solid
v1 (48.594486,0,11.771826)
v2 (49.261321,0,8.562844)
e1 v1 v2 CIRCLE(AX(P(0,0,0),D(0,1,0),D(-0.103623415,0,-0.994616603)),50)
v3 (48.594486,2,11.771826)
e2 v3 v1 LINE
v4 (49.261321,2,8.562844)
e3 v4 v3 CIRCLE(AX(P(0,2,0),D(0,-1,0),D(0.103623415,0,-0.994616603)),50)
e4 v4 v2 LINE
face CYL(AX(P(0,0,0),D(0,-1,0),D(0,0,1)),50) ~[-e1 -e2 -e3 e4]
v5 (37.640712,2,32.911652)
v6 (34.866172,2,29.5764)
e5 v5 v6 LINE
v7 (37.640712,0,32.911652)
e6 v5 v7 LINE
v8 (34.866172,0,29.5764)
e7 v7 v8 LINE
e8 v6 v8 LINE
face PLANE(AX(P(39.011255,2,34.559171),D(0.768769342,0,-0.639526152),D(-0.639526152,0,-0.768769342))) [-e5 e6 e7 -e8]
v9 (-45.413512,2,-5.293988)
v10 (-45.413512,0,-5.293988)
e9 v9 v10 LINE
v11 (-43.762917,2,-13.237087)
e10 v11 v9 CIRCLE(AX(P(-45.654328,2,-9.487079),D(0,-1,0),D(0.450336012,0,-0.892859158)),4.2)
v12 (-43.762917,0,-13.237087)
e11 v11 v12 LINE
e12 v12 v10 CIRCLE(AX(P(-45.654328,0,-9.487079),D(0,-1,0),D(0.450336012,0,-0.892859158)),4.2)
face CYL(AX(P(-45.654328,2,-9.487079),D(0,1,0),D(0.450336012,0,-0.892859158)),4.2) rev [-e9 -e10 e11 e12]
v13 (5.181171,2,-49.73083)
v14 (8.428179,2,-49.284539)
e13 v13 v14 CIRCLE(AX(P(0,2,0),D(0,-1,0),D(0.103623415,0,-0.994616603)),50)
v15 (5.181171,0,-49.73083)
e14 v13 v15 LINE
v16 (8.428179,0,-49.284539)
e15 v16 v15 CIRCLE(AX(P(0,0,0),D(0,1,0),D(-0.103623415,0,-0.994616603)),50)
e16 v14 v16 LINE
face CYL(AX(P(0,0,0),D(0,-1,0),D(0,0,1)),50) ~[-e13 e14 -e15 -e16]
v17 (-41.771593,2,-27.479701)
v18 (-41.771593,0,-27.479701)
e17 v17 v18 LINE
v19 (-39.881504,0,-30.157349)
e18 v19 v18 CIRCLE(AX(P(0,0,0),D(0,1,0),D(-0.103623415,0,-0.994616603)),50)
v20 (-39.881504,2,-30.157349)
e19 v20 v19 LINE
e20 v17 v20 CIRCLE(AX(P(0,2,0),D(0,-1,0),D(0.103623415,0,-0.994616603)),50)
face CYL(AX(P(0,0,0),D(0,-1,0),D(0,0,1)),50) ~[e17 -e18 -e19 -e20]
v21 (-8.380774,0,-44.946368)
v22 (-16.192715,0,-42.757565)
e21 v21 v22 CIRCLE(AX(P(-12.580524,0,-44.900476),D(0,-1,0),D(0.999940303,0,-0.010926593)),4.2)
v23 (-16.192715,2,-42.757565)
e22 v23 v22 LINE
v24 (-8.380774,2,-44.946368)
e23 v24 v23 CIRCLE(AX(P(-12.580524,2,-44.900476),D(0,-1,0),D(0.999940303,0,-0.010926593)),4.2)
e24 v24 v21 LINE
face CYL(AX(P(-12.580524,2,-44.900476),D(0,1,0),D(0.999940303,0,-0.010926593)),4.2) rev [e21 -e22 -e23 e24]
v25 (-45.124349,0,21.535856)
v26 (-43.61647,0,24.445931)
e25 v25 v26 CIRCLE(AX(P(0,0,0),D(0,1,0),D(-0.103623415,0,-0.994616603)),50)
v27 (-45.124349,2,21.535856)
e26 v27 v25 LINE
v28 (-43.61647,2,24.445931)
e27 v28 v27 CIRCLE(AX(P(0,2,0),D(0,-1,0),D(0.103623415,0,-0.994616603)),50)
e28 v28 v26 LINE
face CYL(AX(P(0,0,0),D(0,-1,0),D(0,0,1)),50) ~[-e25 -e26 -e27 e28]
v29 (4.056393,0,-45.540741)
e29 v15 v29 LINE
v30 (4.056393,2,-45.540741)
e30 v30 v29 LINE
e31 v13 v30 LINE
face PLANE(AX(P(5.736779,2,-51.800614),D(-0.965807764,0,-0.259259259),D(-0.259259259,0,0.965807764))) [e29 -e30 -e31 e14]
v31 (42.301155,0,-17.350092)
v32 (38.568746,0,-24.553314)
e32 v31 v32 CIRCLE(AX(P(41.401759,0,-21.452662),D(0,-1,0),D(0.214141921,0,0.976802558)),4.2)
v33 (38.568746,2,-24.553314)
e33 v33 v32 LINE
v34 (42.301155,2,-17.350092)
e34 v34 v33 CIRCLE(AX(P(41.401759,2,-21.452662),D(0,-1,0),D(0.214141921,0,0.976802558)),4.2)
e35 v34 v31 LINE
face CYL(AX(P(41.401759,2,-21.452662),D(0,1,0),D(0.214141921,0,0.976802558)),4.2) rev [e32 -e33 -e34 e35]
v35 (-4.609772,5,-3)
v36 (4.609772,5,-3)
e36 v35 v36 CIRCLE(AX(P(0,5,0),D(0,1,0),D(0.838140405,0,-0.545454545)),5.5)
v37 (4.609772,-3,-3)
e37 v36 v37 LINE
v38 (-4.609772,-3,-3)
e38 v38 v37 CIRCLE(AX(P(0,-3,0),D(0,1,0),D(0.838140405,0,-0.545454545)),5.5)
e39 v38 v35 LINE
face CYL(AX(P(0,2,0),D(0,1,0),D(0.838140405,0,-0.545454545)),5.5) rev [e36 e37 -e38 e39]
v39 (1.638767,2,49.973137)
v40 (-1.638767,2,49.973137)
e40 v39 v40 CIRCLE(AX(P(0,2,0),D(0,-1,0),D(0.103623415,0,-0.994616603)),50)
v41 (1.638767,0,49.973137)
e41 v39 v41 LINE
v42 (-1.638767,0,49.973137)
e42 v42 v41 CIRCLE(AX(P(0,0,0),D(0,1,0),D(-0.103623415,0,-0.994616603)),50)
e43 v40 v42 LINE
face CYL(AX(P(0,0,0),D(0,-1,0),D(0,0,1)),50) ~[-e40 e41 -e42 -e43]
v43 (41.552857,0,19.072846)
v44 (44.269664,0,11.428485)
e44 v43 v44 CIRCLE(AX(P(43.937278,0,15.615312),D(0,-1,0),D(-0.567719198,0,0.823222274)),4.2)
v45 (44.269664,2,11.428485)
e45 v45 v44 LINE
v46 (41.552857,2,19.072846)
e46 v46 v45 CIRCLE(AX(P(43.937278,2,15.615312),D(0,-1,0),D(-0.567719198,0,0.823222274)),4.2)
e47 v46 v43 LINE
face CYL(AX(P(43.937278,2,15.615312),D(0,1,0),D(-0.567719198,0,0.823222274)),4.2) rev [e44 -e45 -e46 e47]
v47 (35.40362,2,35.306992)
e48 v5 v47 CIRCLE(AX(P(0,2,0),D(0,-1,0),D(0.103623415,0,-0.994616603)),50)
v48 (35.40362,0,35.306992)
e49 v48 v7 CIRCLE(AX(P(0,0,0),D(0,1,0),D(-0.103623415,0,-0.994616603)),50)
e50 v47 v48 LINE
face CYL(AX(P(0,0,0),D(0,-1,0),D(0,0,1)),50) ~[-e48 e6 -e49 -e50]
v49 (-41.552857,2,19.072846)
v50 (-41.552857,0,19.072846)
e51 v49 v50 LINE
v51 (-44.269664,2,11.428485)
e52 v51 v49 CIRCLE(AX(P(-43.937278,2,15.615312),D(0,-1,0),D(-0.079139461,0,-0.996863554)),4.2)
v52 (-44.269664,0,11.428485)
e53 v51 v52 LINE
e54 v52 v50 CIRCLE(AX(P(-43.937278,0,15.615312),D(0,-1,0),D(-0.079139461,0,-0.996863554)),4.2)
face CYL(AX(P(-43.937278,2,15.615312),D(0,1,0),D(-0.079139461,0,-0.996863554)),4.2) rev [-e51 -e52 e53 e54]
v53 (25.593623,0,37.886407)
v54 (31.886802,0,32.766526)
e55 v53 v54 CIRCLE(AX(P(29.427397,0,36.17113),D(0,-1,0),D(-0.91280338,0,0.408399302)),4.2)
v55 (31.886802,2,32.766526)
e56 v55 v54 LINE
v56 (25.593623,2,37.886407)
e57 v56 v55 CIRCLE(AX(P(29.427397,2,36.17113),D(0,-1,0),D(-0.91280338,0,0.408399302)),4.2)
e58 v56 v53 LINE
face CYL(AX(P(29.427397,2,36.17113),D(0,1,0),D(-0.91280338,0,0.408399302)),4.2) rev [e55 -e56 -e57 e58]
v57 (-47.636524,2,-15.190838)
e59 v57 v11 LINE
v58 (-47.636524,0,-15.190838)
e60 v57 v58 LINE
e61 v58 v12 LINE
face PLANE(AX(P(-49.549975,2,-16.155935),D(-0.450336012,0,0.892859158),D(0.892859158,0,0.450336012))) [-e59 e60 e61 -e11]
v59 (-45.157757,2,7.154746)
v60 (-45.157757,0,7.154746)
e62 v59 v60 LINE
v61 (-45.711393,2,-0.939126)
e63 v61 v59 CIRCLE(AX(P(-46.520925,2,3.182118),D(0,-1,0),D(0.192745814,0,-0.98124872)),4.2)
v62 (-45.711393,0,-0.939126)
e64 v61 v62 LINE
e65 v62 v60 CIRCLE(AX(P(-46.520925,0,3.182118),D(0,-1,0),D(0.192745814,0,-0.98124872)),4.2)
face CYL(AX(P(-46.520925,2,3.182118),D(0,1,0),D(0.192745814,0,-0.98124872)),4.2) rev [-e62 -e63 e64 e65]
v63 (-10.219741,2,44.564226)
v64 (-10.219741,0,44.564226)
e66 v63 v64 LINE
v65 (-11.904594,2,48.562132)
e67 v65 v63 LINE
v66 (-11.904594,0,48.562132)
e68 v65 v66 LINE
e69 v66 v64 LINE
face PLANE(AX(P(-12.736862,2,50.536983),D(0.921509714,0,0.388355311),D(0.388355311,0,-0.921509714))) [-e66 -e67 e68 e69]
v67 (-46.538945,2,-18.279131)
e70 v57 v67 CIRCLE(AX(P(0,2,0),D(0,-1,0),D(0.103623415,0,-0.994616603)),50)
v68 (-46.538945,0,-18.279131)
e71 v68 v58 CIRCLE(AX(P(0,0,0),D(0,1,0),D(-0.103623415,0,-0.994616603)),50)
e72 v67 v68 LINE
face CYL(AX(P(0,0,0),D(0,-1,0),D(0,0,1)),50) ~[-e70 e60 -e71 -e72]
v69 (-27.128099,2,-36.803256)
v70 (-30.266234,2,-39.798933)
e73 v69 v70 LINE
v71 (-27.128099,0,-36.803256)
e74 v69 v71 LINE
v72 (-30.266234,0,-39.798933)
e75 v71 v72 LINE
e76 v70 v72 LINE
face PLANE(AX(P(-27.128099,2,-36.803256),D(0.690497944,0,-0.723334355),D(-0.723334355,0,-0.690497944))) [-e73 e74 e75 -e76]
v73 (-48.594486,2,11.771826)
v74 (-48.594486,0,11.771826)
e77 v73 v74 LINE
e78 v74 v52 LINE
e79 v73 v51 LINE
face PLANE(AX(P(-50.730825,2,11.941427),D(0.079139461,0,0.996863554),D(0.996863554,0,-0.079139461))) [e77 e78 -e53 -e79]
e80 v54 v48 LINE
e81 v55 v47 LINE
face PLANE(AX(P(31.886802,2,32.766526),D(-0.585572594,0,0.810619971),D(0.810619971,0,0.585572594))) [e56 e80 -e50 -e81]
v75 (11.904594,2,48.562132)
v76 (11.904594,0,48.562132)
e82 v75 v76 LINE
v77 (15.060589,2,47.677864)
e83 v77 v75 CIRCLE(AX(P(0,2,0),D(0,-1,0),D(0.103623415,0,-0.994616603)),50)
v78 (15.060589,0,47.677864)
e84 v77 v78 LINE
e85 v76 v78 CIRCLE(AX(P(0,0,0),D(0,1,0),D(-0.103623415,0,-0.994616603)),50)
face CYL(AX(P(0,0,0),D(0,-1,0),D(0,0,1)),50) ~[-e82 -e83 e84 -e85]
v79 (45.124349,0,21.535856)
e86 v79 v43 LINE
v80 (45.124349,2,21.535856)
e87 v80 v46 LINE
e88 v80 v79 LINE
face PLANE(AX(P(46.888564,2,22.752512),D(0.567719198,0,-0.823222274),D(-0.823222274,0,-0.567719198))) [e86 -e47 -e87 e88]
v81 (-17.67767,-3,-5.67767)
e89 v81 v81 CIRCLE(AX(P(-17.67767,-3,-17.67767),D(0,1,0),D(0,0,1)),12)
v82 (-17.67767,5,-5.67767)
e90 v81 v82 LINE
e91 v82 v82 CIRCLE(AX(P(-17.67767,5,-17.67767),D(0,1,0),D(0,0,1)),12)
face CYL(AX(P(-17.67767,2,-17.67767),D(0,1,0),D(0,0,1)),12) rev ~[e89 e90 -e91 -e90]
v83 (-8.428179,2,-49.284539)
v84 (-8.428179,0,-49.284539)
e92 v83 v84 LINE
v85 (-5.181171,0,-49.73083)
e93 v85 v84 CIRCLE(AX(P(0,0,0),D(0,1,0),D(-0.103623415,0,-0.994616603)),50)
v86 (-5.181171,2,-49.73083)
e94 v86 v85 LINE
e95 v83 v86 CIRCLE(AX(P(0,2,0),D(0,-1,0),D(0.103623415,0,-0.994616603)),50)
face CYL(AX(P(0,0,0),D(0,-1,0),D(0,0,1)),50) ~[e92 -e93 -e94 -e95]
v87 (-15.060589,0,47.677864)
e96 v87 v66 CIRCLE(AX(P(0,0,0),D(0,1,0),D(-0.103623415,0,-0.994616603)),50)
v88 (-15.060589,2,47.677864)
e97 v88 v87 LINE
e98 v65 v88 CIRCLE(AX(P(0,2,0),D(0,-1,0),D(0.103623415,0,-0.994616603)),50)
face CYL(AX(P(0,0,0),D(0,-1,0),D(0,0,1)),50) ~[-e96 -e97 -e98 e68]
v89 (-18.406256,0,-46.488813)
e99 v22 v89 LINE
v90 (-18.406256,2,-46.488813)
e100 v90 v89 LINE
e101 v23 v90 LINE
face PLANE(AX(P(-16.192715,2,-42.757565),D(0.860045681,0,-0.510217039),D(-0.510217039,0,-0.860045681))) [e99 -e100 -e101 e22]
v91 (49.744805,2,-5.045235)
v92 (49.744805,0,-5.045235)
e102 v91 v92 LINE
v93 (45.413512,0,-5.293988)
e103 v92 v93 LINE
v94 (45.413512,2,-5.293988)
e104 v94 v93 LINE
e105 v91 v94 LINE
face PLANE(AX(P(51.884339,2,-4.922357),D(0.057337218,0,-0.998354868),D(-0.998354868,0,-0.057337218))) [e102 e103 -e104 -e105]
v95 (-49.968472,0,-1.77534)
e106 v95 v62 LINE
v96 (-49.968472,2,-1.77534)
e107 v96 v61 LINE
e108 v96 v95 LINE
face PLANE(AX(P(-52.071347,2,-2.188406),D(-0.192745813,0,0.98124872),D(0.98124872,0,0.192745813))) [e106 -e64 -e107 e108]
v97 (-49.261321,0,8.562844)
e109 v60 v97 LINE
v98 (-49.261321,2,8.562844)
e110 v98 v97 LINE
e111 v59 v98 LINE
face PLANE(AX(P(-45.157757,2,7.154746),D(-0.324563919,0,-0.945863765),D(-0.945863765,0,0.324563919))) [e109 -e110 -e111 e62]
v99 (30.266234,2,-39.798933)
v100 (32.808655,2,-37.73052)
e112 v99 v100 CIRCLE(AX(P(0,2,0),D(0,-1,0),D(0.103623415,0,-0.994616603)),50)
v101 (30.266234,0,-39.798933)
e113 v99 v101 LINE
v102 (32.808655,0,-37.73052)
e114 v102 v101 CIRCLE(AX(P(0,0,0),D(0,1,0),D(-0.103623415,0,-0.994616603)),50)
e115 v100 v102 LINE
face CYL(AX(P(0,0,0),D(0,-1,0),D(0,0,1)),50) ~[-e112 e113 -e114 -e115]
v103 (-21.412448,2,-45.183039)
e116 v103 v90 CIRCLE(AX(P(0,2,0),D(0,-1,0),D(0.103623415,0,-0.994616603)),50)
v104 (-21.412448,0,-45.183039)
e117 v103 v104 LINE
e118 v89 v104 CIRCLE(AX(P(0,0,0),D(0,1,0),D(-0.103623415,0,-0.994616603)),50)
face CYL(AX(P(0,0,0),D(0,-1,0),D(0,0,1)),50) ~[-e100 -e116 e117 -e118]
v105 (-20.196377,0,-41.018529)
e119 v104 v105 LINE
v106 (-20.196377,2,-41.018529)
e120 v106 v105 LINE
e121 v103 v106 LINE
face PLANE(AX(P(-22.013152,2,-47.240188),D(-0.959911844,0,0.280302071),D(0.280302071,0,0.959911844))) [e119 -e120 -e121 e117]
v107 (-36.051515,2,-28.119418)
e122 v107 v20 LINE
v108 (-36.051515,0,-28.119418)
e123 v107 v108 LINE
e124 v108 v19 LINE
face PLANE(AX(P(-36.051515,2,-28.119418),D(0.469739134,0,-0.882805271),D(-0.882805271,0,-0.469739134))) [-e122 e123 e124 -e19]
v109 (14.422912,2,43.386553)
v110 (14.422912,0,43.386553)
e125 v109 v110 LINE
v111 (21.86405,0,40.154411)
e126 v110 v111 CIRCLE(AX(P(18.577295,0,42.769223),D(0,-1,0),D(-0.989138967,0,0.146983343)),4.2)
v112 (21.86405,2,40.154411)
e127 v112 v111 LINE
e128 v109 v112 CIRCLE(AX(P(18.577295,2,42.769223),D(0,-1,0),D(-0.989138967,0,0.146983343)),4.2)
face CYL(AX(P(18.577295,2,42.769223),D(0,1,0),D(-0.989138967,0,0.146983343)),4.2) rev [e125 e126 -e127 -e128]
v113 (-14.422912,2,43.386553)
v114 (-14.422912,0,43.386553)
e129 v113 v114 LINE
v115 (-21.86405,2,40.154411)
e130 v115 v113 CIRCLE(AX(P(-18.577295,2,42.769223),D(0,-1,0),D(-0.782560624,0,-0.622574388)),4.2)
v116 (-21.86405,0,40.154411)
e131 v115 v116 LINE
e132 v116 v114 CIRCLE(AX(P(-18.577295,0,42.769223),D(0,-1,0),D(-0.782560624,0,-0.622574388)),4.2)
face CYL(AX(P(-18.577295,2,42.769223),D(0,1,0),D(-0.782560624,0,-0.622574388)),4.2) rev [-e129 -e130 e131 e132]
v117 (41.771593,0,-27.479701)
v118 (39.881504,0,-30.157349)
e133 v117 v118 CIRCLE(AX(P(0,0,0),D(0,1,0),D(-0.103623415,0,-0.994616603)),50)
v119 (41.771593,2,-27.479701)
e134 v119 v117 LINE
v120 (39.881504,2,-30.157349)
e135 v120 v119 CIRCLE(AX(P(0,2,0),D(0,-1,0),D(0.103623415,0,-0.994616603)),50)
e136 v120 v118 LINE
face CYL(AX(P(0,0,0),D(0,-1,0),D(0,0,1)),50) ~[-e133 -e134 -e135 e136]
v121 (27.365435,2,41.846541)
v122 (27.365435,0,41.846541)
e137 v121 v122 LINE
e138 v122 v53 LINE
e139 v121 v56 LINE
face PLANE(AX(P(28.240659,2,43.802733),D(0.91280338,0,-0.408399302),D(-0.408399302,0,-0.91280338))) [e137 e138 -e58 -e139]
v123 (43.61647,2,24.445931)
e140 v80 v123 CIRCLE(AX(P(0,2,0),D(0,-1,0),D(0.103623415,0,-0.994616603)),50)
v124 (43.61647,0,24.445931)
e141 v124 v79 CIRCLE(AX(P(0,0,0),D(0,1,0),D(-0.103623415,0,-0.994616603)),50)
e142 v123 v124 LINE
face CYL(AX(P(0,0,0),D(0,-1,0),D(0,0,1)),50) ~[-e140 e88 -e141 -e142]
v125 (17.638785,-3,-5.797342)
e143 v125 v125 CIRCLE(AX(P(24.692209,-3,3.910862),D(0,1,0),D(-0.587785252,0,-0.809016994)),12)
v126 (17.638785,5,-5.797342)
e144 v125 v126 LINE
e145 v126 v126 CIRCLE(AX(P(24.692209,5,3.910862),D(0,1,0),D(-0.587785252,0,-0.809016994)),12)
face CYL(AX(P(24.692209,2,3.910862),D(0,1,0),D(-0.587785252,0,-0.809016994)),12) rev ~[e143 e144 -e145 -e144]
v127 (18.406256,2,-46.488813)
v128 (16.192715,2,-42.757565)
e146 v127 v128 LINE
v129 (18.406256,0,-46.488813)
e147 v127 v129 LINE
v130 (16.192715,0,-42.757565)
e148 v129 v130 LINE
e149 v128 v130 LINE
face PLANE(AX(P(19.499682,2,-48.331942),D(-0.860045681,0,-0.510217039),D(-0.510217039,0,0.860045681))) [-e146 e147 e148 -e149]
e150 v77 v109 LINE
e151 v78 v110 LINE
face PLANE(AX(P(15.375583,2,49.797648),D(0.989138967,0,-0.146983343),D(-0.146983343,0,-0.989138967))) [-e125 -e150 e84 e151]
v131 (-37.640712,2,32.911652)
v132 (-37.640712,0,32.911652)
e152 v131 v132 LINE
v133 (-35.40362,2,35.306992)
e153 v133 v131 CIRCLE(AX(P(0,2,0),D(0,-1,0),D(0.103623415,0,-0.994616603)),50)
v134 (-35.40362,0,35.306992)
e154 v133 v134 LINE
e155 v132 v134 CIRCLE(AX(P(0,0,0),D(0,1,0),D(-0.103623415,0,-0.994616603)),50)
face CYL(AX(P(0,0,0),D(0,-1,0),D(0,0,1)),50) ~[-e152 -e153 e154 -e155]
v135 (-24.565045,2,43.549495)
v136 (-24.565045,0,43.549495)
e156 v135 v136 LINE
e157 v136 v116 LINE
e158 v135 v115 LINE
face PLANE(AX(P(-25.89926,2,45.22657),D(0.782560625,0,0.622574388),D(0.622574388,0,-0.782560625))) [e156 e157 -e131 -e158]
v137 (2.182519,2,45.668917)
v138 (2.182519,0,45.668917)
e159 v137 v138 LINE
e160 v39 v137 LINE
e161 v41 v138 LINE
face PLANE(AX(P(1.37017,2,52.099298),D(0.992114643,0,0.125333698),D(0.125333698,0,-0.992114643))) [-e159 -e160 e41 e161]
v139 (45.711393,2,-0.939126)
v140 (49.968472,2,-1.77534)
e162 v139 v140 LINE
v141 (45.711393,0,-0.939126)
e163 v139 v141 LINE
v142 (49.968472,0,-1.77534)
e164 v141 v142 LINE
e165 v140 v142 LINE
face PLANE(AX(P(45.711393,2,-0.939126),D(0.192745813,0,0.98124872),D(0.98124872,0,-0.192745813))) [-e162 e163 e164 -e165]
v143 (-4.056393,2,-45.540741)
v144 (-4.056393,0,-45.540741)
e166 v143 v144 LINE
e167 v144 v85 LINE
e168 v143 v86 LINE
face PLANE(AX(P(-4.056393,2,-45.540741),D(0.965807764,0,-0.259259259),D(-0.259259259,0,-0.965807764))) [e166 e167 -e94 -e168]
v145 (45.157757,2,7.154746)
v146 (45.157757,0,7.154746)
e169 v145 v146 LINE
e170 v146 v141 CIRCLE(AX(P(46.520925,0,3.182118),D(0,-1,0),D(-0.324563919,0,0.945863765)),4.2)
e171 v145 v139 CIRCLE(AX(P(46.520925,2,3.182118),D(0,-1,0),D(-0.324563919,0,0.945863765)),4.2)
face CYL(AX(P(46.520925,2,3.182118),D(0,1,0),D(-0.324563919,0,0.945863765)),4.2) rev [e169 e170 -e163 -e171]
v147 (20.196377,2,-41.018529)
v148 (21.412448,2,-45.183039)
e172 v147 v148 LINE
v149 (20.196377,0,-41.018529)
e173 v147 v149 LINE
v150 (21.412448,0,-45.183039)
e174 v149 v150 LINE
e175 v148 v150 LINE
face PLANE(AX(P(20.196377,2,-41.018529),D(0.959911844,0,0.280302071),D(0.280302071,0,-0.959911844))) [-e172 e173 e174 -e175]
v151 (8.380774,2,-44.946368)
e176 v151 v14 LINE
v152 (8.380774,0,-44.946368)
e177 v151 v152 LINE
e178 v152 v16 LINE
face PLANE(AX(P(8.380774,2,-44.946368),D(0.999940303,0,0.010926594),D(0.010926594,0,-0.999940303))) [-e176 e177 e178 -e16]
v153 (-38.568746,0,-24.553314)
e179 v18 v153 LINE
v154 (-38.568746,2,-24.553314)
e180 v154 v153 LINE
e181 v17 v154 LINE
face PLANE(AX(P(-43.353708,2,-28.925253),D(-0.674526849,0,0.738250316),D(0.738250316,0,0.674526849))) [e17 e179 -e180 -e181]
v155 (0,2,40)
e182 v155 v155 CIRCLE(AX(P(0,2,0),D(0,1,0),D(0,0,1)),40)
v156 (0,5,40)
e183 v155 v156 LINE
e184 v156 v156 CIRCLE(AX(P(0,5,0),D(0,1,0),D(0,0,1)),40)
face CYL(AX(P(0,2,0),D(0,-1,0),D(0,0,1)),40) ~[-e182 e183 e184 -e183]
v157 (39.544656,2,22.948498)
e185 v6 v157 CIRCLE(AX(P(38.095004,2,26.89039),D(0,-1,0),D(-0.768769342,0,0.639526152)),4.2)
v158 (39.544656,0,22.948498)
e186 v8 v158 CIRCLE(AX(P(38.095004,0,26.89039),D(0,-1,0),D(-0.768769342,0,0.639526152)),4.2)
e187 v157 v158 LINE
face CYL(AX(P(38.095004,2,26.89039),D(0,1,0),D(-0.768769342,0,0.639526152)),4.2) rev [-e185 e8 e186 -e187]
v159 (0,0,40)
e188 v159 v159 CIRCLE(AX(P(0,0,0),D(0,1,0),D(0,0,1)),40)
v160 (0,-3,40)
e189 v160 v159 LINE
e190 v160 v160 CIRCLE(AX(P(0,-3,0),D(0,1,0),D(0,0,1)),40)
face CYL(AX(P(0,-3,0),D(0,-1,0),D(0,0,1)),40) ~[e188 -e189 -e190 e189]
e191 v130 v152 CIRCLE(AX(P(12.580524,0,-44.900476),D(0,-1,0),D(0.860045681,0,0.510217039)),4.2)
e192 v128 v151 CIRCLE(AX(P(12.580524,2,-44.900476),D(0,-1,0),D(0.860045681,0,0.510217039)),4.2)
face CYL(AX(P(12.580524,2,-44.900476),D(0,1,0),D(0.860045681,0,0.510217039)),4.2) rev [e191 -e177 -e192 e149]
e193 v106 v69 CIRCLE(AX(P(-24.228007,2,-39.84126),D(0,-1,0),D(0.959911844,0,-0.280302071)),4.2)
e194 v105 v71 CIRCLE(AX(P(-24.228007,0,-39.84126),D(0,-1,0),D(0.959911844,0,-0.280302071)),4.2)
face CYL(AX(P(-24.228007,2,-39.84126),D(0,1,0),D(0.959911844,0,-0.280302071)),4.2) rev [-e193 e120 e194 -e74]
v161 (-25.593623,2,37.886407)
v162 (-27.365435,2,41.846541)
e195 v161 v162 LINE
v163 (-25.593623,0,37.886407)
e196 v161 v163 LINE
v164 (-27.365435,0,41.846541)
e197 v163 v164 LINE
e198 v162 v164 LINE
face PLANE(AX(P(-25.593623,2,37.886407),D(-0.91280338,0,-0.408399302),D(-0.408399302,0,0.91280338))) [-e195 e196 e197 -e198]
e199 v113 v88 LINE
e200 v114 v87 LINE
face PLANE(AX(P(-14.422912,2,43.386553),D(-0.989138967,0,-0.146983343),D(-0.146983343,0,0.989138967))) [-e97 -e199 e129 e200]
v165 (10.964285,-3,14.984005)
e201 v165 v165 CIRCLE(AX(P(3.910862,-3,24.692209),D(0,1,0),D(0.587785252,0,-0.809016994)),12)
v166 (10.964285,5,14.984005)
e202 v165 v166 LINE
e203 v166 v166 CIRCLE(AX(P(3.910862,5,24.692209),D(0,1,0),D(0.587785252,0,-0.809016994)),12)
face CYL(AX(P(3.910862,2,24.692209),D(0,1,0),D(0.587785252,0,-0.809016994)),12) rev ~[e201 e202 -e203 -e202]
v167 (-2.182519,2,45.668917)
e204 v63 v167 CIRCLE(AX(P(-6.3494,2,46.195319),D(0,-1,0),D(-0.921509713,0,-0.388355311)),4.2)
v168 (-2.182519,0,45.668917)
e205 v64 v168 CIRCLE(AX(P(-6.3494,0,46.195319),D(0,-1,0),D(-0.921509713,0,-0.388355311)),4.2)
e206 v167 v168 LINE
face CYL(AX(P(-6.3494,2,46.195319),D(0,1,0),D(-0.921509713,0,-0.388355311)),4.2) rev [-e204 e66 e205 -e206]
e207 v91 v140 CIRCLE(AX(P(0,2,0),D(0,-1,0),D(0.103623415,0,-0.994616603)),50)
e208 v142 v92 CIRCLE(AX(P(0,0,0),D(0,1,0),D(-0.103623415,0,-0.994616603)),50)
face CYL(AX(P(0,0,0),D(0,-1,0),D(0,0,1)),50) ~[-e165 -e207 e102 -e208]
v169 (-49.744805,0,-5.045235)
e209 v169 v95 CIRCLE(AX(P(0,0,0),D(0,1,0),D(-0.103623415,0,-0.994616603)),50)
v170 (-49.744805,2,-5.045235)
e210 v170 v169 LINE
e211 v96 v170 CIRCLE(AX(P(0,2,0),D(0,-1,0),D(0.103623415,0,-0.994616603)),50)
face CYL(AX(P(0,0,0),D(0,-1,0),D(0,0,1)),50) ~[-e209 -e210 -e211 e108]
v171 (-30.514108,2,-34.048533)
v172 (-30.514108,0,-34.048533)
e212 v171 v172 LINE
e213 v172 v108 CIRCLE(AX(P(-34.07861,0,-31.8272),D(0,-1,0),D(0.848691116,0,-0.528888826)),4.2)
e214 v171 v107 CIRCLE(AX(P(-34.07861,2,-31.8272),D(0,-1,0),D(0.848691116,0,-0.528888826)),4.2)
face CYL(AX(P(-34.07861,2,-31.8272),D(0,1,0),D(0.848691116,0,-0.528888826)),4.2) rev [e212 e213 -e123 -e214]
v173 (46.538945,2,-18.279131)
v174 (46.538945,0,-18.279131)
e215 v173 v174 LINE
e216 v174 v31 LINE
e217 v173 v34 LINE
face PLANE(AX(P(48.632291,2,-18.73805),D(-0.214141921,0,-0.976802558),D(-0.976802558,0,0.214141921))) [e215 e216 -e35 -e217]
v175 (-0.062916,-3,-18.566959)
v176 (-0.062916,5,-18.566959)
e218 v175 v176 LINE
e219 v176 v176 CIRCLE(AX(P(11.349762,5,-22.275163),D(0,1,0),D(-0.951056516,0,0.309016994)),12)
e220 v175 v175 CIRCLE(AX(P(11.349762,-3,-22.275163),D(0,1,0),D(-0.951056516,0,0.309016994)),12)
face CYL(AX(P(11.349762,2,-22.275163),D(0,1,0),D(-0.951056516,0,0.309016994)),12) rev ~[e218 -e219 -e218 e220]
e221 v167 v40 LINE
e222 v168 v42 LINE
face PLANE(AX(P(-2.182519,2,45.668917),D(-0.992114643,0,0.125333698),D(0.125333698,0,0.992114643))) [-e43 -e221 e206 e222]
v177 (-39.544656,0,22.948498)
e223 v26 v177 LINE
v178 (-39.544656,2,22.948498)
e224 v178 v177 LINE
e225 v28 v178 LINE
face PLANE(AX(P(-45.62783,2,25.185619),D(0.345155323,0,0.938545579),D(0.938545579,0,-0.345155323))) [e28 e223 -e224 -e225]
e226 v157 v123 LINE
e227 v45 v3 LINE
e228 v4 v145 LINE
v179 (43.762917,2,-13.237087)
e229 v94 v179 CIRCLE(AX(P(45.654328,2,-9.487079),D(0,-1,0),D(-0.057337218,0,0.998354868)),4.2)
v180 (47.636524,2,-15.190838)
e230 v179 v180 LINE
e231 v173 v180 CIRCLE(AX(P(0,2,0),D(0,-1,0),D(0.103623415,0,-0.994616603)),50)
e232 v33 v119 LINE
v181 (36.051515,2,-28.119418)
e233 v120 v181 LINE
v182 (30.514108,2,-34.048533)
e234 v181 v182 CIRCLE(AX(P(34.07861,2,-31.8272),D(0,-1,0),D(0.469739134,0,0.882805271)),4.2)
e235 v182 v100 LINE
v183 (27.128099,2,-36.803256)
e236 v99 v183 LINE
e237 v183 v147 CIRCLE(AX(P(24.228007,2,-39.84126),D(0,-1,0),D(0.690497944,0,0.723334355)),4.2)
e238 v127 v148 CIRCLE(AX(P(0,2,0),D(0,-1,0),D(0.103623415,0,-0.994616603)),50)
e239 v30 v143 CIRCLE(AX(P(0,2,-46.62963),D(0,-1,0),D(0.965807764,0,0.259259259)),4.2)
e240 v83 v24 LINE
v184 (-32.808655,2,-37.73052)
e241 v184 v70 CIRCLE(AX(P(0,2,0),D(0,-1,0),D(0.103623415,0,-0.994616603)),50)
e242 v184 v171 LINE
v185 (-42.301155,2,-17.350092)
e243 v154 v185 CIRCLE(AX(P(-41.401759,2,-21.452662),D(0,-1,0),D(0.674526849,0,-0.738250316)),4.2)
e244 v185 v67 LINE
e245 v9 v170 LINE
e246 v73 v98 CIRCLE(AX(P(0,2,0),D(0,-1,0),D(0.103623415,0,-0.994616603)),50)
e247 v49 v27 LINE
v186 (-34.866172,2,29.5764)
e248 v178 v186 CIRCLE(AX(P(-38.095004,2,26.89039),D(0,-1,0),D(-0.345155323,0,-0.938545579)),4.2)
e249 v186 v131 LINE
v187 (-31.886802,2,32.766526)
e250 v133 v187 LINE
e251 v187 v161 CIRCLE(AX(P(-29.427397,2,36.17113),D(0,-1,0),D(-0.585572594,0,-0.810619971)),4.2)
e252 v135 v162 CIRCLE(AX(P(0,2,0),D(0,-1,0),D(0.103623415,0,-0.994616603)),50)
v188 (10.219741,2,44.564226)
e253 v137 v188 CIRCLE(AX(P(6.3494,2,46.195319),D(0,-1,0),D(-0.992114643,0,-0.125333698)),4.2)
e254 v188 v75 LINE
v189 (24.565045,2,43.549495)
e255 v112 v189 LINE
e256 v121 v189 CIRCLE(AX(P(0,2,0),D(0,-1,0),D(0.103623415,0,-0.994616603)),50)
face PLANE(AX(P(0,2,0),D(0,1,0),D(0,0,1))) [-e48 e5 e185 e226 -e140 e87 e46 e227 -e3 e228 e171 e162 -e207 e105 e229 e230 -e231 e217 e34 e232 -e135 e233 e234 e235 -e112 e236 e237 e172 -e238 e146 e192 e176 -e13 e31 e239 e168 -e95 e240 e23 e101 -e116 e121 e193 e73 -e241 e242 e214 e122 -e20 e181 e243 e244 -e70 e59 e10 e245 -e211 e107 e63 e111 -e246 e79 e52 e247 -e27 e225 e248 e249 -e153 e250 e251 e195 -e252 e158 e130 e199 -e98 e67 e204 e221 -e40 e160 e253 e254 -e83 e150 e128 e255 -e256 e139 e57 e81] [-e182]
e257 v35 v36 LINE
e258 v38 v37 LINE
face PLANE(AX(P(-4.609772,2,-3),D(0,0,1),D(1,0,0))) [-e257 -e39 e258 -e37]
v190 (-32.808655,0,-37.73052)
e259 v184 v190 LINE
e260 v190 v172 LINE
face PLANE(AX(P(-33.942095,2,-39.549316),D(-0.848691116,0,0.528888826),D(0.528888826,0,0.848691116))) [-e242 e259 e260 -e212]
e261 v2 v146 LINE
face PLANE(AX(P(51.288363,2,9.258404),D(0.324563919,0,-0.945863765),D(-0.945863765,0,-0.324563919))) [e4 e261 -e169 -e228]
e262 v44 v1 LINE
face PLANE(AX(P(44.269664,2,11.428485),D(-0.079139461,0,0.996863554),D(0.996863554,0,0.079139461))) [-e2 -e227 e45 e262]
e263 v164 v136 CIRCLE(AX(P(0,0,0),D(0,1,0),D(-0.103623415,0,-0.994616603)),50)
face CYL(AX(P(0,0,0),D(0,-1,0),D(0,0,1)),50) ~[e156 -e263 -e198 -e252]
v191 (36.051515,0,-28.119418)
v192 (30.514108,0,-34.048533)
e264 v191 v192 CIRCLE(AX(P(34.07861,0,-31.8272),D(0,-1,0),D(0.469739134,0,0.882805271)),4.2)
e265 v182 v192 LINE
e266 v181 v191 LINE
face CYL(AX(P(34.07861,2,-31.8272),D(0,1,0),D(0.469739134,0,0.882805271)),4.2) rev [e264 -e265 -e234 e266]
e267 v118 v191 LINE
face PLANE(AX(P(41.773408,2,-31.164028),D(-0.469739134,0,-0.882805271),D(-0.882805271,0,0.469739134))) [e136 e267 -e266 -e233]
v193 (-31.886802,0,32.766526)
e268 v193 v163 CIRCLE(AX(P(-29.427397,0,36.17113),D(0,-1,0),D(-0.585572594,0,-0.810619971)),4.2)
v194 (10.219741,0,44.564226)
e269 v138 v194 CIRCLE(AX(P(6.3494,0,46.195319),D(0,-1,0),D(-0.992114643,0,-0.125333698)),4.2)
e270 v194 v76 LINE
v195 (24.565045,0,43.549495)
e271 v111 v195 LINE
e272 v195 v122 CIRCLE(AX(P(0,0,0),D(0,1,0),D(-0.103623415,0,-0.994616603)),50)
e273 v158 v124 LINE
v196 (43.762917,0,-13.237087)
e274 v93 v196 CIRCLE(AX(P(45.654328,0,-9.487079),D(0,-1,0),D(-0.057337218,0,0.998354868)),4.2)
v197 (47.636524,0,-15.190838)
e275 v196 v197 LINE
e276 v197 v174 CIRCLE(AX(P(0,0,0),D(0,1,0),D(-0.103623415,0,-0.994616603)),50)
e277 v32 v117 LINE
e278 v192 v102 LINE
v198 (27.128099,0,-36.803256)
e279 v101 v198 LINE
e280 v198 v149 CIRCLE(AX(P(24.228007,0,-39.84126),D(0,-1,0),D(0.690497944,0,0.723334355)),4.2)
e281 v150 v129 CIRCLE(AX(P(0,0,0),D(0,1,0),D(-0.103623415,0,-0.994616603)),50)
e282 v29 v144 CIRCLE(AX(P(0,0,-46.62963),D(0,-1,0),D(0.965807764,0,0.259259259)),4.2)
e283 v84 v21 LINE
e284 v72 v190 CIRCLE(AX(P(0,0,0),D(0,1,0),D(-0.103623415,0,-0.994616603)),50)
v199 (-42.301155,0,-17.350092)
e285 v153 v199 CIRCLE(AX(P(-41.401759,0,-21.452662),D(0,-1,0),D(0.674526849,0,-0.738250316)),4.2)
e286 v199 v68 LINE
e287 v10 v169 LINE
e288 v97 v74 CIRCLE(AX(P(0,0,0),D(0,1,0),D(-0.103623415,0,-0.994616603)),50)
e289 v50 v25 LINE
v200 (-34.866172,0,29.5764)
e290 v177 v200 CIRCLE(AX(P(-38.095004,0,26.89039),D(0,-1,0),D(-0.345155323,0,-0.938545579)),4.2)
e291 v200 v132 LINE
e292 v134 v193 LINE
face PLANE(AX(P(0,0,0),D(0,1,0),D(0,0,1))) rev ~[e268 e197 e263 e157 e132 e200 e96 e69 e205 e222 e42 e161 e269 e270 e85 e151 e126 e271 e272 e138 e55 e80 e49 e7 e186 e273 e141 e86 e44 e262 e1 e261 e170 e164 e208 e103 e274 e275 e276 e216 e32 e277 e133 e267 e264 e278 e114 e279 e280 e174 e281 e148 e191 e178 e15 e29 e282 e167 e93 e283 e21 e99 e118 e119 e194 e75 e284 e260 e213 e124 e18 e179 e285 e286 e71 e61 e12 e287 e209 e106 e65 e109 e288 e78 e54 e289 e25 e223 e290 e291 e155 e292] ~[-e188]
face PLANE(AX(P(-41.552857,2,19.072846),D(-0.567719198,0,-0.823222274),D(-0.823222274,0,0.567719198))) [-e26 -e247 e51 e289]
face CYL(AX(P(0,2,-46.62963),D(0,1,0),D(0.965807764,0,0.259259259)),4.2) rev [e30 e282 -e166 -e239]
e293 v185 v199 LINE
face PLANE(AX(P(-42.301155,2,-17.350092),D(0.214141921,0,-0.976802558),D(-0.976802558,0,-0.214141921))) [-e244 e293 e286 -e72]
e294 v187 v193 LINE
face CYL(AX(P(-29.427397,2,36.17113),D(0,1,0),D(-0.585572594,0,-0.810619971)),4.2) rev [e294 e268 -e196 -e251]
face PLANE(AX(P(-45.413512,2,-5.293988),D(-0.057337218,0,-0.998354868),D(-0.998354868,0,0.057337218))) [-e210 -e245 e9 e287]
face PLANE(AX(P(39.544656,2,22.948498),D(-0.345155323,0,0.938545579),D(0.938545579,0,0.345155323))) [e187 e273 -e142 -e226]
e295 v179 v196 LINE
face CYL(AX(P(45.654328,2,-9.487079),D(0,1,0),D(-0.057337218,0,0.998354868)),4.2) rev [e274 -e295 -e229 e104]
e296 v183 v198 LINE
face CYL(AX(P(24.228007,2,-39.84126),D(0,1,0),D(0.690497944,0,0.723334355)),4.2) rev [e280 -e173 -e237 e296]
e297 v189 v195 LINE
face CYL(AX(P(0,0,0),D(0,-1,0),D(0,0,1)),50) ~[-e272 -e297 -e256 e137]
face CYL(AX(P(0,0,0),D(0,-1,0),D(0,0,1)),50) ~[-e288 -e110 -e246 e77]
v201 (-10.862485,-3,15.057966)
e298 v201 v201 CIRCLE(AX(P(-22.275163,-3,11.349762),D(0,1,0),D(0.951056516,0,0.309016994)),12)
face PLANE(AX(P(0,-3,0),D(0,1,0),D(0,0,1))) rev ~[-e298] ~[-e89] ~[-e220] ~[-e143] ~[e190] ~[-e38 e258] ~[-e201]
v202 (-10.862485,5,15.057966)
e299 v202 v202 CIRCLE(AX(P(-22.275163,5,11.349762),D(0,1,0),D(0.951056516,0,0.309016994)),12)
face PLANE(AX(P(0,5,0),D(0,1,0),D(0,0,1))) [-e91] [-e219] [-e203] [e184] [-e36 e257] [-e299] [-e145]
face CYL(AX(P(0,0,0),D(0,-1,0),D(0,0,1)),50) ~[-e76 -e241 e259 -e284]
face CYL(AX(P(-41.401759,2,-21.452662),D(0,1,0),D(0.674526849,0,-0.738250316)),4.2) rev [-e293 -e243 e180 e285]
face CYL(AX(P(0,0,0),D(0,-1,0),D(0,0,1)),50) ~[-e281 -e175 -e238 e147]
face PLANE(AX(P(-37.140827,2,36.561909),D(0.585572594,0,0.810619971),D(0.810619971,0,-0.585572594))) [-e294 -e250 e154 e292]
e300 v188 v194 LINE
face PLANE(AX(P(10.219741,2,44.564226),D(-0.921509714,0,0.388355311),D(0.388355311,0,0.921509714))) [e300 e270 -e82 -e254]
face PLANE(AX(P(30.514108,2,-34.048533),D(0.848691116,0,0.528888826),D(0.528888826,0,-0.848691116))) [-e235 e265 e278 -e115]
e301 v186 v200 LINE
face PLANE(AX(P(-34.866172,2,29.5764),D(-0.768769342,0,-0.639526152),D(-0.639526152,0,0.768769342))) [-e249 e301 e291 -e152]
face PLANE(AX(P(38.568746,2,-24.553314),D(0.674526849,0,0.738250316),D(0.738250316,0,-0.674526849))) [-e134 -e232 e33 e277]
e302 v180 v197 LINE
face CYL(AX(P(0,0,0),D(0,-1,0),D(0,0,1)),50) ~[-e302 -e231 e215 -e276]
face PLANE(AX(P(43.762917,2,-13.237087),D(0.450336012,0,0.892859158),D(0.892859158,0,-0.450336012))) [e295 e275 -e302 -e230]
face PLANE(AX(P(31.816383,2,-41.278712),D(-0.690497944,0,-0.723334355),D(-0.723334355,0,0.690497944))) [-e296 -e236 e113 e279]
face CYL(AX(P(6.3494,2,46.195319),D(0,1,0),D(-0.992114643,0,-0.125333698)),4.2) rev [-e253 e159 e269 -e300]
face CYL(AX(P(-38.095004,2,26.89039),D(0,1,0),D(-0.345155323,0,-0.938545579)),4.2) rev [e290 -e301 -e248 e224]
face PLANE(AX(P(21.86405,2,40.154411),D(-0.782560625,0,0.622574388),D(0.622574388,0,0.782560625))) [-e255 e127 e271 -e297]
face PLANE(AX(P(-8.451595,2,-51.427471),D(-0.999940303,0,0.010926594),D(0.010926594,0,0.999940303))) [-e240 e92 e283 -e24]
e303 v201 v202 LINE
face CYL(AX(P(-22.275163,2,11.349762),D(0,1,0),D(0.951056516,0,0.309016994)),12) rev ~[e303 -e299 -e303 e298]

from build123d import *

# Parameters (mm, degrees)
IZIM1_R                     = 50
Y_KSEKLIK_EKSTR_ZYON1_DEPTH = 2
KES_EKSTR_ZYON2_DEPTH       = 2
DAIRESEL_KAPLAMA2_COUNT     = 23
IZIM12_R                    = 40
Y_KSEKLIK_EKSTR_ZYON2_DEPTH = 3
Y_KSEKLIK_EKSTR_ZYON3_START = -3
IZIM13_R                    = 40
Y_KSEKLIK_EKSTR_ZYON3_DEPTH = 3
IZIM14_R                    = 12
KES_EKSTR_ZYON6_DEPTH       = 7
DAIRESEL_KAPLAMA5_COUNT     = 5
KES_EKSTR_ZYON7_DEPTH       = 7


with BuildPart() as part:
    # Çizim1 → Yükseklik-Ekstrüzyon1 (new body)
    with BuildSketch(Plane(origin=(0, 0, 0), x_dir=(1, 0, 0), z_dir=(0, 1, 0))):
        with Locations(Location((0, 0, 0), (0, 0, 270))):
            Circle(IZIM1_R)
    extrude(amount=Y_KSEKLIK_EKSTR_ZYON1_DEPTH)

    # Çizim2 → Kes-Ekstrüzyon2 (cut)
    with BuildSketch(Plane(origin=(0, 2, 0), x_dir=(1, 0, 0), z_dir=(0, 1, 0))):
        with BuildLine():
            Line((-7.668264722, 58.995898097), (5.736778926, 51.800614184))
            Line((5.736778926, 51.800614184), (4.056392608, 45.540740741))
            ThreePointArc((4.056392608, 45.540740741), (0, 42.42962963), (-4.056392608, 45.540740741))
            Line((-4.056392608, 45.540740741), (-7.668264722, 58.995898097))
        make_face()
    kes_ekstr_zyon2 = extrude(amount=-KES_EKSTR_ZYON2_DEPTH, mode=Mode.SUBTRACT)

    # Dairesel Kaplama2: Kes-Ekstrüzyon2 ×23 about axis
    dairesel_kaplama2_axis = Axis((0, 0, 0), (0, 1, 0))
    for i in range(1, DAIRESEL_KAPLAMA2_COUNT):
        add(kes_ekstr_zyon2.rotate(dairesel_kaplama2_axis, i * 360 / DAIRESEL_KAPLAMA2_COUNT), mode=Mode.SUBTRACT)

    # Çizim12 → Yükseklik-Ekstrüzyon2 (add)
    with BuildSketch(Plane(origin=(0, 2, 0), x_dir=(1, 0, 0), z_dir=(0, 1, 0))):
        with Locations(Location((0, 0, 0), (0, 0, 270))):
            Circle(IZIM12_R)
    extrude(amount=Y_KSEKLIK_EKSTR_ZYON2_DEPTH)

    # Çizim13 → Yükseklik-Ekstrüzyon3 (add)
    with BuildSketch(Plane(origin=(0, 0, 0), x_dir=(1, 0, 0), z_dir=(0, 1, 0)).offset(Y_KSEKLIK_EKSTR_ZYON3_START)):
        with Locations(Location((0, 0, 0), (0, 0, 270))):
            Circle(IZIM13_R)
    extrude(amount=Y_KSEKLIK_EKSTR_ZYON3_DEPTH)

    # Çizim14 → Kes-Ekstrüzyon6 (cut, symmetric)
    with BuildSketch(Plane(origin=(0, 2, 0), x_dir=(1, 0, 0), z_dir=(0, 1, 0))):
        with Locations(Location((-17.67766953, 17.67766953, 0), (0, 0, 270))):
            Circle(IZIM14_R)
    kes_ekstr_zyon6 = extrude(amount=KES_EKSTR_ZYON6_DEPTH, both=True, mode=Mode.SUBTRACT)

    # Dairesel Kaplama5: Kes-Ekstrüzyon6 ×5 about axis
    dairesel_kaplama5_axis = Axis((0, 0, 0), (0, 1, 0))
    for i in range(1, DAIRESEL_KAPLAMA5_COUNT):
        add(kes_ekstr_zyon6.rotate(dairesel_kaplama5_axis, i * 360 / DAIRESEL_KAPLAMA5_COUNT), mode=Mode.SUBTRACT)

    # Çizim16 → Kes-Ekstrüzyon7 (cut, symmetric)
    with BuildSketch(Plane(origin=(0, 2, 0), x_dir=(1, 0, 0), z_dir=(0, 1, 0))):
        with BuildLine():
            Line((-4.609772229, 3), (4.609772229, 3))
            ThreePointArc((4.609772229, 3), (0, -5.5), (-4.609772229, 3))
        make_face()
    extrude(amount=KES_EKSTR_ZYON7_DEPTH, both=True, mode=Mode.SUBTRACT)


solid = part.part
